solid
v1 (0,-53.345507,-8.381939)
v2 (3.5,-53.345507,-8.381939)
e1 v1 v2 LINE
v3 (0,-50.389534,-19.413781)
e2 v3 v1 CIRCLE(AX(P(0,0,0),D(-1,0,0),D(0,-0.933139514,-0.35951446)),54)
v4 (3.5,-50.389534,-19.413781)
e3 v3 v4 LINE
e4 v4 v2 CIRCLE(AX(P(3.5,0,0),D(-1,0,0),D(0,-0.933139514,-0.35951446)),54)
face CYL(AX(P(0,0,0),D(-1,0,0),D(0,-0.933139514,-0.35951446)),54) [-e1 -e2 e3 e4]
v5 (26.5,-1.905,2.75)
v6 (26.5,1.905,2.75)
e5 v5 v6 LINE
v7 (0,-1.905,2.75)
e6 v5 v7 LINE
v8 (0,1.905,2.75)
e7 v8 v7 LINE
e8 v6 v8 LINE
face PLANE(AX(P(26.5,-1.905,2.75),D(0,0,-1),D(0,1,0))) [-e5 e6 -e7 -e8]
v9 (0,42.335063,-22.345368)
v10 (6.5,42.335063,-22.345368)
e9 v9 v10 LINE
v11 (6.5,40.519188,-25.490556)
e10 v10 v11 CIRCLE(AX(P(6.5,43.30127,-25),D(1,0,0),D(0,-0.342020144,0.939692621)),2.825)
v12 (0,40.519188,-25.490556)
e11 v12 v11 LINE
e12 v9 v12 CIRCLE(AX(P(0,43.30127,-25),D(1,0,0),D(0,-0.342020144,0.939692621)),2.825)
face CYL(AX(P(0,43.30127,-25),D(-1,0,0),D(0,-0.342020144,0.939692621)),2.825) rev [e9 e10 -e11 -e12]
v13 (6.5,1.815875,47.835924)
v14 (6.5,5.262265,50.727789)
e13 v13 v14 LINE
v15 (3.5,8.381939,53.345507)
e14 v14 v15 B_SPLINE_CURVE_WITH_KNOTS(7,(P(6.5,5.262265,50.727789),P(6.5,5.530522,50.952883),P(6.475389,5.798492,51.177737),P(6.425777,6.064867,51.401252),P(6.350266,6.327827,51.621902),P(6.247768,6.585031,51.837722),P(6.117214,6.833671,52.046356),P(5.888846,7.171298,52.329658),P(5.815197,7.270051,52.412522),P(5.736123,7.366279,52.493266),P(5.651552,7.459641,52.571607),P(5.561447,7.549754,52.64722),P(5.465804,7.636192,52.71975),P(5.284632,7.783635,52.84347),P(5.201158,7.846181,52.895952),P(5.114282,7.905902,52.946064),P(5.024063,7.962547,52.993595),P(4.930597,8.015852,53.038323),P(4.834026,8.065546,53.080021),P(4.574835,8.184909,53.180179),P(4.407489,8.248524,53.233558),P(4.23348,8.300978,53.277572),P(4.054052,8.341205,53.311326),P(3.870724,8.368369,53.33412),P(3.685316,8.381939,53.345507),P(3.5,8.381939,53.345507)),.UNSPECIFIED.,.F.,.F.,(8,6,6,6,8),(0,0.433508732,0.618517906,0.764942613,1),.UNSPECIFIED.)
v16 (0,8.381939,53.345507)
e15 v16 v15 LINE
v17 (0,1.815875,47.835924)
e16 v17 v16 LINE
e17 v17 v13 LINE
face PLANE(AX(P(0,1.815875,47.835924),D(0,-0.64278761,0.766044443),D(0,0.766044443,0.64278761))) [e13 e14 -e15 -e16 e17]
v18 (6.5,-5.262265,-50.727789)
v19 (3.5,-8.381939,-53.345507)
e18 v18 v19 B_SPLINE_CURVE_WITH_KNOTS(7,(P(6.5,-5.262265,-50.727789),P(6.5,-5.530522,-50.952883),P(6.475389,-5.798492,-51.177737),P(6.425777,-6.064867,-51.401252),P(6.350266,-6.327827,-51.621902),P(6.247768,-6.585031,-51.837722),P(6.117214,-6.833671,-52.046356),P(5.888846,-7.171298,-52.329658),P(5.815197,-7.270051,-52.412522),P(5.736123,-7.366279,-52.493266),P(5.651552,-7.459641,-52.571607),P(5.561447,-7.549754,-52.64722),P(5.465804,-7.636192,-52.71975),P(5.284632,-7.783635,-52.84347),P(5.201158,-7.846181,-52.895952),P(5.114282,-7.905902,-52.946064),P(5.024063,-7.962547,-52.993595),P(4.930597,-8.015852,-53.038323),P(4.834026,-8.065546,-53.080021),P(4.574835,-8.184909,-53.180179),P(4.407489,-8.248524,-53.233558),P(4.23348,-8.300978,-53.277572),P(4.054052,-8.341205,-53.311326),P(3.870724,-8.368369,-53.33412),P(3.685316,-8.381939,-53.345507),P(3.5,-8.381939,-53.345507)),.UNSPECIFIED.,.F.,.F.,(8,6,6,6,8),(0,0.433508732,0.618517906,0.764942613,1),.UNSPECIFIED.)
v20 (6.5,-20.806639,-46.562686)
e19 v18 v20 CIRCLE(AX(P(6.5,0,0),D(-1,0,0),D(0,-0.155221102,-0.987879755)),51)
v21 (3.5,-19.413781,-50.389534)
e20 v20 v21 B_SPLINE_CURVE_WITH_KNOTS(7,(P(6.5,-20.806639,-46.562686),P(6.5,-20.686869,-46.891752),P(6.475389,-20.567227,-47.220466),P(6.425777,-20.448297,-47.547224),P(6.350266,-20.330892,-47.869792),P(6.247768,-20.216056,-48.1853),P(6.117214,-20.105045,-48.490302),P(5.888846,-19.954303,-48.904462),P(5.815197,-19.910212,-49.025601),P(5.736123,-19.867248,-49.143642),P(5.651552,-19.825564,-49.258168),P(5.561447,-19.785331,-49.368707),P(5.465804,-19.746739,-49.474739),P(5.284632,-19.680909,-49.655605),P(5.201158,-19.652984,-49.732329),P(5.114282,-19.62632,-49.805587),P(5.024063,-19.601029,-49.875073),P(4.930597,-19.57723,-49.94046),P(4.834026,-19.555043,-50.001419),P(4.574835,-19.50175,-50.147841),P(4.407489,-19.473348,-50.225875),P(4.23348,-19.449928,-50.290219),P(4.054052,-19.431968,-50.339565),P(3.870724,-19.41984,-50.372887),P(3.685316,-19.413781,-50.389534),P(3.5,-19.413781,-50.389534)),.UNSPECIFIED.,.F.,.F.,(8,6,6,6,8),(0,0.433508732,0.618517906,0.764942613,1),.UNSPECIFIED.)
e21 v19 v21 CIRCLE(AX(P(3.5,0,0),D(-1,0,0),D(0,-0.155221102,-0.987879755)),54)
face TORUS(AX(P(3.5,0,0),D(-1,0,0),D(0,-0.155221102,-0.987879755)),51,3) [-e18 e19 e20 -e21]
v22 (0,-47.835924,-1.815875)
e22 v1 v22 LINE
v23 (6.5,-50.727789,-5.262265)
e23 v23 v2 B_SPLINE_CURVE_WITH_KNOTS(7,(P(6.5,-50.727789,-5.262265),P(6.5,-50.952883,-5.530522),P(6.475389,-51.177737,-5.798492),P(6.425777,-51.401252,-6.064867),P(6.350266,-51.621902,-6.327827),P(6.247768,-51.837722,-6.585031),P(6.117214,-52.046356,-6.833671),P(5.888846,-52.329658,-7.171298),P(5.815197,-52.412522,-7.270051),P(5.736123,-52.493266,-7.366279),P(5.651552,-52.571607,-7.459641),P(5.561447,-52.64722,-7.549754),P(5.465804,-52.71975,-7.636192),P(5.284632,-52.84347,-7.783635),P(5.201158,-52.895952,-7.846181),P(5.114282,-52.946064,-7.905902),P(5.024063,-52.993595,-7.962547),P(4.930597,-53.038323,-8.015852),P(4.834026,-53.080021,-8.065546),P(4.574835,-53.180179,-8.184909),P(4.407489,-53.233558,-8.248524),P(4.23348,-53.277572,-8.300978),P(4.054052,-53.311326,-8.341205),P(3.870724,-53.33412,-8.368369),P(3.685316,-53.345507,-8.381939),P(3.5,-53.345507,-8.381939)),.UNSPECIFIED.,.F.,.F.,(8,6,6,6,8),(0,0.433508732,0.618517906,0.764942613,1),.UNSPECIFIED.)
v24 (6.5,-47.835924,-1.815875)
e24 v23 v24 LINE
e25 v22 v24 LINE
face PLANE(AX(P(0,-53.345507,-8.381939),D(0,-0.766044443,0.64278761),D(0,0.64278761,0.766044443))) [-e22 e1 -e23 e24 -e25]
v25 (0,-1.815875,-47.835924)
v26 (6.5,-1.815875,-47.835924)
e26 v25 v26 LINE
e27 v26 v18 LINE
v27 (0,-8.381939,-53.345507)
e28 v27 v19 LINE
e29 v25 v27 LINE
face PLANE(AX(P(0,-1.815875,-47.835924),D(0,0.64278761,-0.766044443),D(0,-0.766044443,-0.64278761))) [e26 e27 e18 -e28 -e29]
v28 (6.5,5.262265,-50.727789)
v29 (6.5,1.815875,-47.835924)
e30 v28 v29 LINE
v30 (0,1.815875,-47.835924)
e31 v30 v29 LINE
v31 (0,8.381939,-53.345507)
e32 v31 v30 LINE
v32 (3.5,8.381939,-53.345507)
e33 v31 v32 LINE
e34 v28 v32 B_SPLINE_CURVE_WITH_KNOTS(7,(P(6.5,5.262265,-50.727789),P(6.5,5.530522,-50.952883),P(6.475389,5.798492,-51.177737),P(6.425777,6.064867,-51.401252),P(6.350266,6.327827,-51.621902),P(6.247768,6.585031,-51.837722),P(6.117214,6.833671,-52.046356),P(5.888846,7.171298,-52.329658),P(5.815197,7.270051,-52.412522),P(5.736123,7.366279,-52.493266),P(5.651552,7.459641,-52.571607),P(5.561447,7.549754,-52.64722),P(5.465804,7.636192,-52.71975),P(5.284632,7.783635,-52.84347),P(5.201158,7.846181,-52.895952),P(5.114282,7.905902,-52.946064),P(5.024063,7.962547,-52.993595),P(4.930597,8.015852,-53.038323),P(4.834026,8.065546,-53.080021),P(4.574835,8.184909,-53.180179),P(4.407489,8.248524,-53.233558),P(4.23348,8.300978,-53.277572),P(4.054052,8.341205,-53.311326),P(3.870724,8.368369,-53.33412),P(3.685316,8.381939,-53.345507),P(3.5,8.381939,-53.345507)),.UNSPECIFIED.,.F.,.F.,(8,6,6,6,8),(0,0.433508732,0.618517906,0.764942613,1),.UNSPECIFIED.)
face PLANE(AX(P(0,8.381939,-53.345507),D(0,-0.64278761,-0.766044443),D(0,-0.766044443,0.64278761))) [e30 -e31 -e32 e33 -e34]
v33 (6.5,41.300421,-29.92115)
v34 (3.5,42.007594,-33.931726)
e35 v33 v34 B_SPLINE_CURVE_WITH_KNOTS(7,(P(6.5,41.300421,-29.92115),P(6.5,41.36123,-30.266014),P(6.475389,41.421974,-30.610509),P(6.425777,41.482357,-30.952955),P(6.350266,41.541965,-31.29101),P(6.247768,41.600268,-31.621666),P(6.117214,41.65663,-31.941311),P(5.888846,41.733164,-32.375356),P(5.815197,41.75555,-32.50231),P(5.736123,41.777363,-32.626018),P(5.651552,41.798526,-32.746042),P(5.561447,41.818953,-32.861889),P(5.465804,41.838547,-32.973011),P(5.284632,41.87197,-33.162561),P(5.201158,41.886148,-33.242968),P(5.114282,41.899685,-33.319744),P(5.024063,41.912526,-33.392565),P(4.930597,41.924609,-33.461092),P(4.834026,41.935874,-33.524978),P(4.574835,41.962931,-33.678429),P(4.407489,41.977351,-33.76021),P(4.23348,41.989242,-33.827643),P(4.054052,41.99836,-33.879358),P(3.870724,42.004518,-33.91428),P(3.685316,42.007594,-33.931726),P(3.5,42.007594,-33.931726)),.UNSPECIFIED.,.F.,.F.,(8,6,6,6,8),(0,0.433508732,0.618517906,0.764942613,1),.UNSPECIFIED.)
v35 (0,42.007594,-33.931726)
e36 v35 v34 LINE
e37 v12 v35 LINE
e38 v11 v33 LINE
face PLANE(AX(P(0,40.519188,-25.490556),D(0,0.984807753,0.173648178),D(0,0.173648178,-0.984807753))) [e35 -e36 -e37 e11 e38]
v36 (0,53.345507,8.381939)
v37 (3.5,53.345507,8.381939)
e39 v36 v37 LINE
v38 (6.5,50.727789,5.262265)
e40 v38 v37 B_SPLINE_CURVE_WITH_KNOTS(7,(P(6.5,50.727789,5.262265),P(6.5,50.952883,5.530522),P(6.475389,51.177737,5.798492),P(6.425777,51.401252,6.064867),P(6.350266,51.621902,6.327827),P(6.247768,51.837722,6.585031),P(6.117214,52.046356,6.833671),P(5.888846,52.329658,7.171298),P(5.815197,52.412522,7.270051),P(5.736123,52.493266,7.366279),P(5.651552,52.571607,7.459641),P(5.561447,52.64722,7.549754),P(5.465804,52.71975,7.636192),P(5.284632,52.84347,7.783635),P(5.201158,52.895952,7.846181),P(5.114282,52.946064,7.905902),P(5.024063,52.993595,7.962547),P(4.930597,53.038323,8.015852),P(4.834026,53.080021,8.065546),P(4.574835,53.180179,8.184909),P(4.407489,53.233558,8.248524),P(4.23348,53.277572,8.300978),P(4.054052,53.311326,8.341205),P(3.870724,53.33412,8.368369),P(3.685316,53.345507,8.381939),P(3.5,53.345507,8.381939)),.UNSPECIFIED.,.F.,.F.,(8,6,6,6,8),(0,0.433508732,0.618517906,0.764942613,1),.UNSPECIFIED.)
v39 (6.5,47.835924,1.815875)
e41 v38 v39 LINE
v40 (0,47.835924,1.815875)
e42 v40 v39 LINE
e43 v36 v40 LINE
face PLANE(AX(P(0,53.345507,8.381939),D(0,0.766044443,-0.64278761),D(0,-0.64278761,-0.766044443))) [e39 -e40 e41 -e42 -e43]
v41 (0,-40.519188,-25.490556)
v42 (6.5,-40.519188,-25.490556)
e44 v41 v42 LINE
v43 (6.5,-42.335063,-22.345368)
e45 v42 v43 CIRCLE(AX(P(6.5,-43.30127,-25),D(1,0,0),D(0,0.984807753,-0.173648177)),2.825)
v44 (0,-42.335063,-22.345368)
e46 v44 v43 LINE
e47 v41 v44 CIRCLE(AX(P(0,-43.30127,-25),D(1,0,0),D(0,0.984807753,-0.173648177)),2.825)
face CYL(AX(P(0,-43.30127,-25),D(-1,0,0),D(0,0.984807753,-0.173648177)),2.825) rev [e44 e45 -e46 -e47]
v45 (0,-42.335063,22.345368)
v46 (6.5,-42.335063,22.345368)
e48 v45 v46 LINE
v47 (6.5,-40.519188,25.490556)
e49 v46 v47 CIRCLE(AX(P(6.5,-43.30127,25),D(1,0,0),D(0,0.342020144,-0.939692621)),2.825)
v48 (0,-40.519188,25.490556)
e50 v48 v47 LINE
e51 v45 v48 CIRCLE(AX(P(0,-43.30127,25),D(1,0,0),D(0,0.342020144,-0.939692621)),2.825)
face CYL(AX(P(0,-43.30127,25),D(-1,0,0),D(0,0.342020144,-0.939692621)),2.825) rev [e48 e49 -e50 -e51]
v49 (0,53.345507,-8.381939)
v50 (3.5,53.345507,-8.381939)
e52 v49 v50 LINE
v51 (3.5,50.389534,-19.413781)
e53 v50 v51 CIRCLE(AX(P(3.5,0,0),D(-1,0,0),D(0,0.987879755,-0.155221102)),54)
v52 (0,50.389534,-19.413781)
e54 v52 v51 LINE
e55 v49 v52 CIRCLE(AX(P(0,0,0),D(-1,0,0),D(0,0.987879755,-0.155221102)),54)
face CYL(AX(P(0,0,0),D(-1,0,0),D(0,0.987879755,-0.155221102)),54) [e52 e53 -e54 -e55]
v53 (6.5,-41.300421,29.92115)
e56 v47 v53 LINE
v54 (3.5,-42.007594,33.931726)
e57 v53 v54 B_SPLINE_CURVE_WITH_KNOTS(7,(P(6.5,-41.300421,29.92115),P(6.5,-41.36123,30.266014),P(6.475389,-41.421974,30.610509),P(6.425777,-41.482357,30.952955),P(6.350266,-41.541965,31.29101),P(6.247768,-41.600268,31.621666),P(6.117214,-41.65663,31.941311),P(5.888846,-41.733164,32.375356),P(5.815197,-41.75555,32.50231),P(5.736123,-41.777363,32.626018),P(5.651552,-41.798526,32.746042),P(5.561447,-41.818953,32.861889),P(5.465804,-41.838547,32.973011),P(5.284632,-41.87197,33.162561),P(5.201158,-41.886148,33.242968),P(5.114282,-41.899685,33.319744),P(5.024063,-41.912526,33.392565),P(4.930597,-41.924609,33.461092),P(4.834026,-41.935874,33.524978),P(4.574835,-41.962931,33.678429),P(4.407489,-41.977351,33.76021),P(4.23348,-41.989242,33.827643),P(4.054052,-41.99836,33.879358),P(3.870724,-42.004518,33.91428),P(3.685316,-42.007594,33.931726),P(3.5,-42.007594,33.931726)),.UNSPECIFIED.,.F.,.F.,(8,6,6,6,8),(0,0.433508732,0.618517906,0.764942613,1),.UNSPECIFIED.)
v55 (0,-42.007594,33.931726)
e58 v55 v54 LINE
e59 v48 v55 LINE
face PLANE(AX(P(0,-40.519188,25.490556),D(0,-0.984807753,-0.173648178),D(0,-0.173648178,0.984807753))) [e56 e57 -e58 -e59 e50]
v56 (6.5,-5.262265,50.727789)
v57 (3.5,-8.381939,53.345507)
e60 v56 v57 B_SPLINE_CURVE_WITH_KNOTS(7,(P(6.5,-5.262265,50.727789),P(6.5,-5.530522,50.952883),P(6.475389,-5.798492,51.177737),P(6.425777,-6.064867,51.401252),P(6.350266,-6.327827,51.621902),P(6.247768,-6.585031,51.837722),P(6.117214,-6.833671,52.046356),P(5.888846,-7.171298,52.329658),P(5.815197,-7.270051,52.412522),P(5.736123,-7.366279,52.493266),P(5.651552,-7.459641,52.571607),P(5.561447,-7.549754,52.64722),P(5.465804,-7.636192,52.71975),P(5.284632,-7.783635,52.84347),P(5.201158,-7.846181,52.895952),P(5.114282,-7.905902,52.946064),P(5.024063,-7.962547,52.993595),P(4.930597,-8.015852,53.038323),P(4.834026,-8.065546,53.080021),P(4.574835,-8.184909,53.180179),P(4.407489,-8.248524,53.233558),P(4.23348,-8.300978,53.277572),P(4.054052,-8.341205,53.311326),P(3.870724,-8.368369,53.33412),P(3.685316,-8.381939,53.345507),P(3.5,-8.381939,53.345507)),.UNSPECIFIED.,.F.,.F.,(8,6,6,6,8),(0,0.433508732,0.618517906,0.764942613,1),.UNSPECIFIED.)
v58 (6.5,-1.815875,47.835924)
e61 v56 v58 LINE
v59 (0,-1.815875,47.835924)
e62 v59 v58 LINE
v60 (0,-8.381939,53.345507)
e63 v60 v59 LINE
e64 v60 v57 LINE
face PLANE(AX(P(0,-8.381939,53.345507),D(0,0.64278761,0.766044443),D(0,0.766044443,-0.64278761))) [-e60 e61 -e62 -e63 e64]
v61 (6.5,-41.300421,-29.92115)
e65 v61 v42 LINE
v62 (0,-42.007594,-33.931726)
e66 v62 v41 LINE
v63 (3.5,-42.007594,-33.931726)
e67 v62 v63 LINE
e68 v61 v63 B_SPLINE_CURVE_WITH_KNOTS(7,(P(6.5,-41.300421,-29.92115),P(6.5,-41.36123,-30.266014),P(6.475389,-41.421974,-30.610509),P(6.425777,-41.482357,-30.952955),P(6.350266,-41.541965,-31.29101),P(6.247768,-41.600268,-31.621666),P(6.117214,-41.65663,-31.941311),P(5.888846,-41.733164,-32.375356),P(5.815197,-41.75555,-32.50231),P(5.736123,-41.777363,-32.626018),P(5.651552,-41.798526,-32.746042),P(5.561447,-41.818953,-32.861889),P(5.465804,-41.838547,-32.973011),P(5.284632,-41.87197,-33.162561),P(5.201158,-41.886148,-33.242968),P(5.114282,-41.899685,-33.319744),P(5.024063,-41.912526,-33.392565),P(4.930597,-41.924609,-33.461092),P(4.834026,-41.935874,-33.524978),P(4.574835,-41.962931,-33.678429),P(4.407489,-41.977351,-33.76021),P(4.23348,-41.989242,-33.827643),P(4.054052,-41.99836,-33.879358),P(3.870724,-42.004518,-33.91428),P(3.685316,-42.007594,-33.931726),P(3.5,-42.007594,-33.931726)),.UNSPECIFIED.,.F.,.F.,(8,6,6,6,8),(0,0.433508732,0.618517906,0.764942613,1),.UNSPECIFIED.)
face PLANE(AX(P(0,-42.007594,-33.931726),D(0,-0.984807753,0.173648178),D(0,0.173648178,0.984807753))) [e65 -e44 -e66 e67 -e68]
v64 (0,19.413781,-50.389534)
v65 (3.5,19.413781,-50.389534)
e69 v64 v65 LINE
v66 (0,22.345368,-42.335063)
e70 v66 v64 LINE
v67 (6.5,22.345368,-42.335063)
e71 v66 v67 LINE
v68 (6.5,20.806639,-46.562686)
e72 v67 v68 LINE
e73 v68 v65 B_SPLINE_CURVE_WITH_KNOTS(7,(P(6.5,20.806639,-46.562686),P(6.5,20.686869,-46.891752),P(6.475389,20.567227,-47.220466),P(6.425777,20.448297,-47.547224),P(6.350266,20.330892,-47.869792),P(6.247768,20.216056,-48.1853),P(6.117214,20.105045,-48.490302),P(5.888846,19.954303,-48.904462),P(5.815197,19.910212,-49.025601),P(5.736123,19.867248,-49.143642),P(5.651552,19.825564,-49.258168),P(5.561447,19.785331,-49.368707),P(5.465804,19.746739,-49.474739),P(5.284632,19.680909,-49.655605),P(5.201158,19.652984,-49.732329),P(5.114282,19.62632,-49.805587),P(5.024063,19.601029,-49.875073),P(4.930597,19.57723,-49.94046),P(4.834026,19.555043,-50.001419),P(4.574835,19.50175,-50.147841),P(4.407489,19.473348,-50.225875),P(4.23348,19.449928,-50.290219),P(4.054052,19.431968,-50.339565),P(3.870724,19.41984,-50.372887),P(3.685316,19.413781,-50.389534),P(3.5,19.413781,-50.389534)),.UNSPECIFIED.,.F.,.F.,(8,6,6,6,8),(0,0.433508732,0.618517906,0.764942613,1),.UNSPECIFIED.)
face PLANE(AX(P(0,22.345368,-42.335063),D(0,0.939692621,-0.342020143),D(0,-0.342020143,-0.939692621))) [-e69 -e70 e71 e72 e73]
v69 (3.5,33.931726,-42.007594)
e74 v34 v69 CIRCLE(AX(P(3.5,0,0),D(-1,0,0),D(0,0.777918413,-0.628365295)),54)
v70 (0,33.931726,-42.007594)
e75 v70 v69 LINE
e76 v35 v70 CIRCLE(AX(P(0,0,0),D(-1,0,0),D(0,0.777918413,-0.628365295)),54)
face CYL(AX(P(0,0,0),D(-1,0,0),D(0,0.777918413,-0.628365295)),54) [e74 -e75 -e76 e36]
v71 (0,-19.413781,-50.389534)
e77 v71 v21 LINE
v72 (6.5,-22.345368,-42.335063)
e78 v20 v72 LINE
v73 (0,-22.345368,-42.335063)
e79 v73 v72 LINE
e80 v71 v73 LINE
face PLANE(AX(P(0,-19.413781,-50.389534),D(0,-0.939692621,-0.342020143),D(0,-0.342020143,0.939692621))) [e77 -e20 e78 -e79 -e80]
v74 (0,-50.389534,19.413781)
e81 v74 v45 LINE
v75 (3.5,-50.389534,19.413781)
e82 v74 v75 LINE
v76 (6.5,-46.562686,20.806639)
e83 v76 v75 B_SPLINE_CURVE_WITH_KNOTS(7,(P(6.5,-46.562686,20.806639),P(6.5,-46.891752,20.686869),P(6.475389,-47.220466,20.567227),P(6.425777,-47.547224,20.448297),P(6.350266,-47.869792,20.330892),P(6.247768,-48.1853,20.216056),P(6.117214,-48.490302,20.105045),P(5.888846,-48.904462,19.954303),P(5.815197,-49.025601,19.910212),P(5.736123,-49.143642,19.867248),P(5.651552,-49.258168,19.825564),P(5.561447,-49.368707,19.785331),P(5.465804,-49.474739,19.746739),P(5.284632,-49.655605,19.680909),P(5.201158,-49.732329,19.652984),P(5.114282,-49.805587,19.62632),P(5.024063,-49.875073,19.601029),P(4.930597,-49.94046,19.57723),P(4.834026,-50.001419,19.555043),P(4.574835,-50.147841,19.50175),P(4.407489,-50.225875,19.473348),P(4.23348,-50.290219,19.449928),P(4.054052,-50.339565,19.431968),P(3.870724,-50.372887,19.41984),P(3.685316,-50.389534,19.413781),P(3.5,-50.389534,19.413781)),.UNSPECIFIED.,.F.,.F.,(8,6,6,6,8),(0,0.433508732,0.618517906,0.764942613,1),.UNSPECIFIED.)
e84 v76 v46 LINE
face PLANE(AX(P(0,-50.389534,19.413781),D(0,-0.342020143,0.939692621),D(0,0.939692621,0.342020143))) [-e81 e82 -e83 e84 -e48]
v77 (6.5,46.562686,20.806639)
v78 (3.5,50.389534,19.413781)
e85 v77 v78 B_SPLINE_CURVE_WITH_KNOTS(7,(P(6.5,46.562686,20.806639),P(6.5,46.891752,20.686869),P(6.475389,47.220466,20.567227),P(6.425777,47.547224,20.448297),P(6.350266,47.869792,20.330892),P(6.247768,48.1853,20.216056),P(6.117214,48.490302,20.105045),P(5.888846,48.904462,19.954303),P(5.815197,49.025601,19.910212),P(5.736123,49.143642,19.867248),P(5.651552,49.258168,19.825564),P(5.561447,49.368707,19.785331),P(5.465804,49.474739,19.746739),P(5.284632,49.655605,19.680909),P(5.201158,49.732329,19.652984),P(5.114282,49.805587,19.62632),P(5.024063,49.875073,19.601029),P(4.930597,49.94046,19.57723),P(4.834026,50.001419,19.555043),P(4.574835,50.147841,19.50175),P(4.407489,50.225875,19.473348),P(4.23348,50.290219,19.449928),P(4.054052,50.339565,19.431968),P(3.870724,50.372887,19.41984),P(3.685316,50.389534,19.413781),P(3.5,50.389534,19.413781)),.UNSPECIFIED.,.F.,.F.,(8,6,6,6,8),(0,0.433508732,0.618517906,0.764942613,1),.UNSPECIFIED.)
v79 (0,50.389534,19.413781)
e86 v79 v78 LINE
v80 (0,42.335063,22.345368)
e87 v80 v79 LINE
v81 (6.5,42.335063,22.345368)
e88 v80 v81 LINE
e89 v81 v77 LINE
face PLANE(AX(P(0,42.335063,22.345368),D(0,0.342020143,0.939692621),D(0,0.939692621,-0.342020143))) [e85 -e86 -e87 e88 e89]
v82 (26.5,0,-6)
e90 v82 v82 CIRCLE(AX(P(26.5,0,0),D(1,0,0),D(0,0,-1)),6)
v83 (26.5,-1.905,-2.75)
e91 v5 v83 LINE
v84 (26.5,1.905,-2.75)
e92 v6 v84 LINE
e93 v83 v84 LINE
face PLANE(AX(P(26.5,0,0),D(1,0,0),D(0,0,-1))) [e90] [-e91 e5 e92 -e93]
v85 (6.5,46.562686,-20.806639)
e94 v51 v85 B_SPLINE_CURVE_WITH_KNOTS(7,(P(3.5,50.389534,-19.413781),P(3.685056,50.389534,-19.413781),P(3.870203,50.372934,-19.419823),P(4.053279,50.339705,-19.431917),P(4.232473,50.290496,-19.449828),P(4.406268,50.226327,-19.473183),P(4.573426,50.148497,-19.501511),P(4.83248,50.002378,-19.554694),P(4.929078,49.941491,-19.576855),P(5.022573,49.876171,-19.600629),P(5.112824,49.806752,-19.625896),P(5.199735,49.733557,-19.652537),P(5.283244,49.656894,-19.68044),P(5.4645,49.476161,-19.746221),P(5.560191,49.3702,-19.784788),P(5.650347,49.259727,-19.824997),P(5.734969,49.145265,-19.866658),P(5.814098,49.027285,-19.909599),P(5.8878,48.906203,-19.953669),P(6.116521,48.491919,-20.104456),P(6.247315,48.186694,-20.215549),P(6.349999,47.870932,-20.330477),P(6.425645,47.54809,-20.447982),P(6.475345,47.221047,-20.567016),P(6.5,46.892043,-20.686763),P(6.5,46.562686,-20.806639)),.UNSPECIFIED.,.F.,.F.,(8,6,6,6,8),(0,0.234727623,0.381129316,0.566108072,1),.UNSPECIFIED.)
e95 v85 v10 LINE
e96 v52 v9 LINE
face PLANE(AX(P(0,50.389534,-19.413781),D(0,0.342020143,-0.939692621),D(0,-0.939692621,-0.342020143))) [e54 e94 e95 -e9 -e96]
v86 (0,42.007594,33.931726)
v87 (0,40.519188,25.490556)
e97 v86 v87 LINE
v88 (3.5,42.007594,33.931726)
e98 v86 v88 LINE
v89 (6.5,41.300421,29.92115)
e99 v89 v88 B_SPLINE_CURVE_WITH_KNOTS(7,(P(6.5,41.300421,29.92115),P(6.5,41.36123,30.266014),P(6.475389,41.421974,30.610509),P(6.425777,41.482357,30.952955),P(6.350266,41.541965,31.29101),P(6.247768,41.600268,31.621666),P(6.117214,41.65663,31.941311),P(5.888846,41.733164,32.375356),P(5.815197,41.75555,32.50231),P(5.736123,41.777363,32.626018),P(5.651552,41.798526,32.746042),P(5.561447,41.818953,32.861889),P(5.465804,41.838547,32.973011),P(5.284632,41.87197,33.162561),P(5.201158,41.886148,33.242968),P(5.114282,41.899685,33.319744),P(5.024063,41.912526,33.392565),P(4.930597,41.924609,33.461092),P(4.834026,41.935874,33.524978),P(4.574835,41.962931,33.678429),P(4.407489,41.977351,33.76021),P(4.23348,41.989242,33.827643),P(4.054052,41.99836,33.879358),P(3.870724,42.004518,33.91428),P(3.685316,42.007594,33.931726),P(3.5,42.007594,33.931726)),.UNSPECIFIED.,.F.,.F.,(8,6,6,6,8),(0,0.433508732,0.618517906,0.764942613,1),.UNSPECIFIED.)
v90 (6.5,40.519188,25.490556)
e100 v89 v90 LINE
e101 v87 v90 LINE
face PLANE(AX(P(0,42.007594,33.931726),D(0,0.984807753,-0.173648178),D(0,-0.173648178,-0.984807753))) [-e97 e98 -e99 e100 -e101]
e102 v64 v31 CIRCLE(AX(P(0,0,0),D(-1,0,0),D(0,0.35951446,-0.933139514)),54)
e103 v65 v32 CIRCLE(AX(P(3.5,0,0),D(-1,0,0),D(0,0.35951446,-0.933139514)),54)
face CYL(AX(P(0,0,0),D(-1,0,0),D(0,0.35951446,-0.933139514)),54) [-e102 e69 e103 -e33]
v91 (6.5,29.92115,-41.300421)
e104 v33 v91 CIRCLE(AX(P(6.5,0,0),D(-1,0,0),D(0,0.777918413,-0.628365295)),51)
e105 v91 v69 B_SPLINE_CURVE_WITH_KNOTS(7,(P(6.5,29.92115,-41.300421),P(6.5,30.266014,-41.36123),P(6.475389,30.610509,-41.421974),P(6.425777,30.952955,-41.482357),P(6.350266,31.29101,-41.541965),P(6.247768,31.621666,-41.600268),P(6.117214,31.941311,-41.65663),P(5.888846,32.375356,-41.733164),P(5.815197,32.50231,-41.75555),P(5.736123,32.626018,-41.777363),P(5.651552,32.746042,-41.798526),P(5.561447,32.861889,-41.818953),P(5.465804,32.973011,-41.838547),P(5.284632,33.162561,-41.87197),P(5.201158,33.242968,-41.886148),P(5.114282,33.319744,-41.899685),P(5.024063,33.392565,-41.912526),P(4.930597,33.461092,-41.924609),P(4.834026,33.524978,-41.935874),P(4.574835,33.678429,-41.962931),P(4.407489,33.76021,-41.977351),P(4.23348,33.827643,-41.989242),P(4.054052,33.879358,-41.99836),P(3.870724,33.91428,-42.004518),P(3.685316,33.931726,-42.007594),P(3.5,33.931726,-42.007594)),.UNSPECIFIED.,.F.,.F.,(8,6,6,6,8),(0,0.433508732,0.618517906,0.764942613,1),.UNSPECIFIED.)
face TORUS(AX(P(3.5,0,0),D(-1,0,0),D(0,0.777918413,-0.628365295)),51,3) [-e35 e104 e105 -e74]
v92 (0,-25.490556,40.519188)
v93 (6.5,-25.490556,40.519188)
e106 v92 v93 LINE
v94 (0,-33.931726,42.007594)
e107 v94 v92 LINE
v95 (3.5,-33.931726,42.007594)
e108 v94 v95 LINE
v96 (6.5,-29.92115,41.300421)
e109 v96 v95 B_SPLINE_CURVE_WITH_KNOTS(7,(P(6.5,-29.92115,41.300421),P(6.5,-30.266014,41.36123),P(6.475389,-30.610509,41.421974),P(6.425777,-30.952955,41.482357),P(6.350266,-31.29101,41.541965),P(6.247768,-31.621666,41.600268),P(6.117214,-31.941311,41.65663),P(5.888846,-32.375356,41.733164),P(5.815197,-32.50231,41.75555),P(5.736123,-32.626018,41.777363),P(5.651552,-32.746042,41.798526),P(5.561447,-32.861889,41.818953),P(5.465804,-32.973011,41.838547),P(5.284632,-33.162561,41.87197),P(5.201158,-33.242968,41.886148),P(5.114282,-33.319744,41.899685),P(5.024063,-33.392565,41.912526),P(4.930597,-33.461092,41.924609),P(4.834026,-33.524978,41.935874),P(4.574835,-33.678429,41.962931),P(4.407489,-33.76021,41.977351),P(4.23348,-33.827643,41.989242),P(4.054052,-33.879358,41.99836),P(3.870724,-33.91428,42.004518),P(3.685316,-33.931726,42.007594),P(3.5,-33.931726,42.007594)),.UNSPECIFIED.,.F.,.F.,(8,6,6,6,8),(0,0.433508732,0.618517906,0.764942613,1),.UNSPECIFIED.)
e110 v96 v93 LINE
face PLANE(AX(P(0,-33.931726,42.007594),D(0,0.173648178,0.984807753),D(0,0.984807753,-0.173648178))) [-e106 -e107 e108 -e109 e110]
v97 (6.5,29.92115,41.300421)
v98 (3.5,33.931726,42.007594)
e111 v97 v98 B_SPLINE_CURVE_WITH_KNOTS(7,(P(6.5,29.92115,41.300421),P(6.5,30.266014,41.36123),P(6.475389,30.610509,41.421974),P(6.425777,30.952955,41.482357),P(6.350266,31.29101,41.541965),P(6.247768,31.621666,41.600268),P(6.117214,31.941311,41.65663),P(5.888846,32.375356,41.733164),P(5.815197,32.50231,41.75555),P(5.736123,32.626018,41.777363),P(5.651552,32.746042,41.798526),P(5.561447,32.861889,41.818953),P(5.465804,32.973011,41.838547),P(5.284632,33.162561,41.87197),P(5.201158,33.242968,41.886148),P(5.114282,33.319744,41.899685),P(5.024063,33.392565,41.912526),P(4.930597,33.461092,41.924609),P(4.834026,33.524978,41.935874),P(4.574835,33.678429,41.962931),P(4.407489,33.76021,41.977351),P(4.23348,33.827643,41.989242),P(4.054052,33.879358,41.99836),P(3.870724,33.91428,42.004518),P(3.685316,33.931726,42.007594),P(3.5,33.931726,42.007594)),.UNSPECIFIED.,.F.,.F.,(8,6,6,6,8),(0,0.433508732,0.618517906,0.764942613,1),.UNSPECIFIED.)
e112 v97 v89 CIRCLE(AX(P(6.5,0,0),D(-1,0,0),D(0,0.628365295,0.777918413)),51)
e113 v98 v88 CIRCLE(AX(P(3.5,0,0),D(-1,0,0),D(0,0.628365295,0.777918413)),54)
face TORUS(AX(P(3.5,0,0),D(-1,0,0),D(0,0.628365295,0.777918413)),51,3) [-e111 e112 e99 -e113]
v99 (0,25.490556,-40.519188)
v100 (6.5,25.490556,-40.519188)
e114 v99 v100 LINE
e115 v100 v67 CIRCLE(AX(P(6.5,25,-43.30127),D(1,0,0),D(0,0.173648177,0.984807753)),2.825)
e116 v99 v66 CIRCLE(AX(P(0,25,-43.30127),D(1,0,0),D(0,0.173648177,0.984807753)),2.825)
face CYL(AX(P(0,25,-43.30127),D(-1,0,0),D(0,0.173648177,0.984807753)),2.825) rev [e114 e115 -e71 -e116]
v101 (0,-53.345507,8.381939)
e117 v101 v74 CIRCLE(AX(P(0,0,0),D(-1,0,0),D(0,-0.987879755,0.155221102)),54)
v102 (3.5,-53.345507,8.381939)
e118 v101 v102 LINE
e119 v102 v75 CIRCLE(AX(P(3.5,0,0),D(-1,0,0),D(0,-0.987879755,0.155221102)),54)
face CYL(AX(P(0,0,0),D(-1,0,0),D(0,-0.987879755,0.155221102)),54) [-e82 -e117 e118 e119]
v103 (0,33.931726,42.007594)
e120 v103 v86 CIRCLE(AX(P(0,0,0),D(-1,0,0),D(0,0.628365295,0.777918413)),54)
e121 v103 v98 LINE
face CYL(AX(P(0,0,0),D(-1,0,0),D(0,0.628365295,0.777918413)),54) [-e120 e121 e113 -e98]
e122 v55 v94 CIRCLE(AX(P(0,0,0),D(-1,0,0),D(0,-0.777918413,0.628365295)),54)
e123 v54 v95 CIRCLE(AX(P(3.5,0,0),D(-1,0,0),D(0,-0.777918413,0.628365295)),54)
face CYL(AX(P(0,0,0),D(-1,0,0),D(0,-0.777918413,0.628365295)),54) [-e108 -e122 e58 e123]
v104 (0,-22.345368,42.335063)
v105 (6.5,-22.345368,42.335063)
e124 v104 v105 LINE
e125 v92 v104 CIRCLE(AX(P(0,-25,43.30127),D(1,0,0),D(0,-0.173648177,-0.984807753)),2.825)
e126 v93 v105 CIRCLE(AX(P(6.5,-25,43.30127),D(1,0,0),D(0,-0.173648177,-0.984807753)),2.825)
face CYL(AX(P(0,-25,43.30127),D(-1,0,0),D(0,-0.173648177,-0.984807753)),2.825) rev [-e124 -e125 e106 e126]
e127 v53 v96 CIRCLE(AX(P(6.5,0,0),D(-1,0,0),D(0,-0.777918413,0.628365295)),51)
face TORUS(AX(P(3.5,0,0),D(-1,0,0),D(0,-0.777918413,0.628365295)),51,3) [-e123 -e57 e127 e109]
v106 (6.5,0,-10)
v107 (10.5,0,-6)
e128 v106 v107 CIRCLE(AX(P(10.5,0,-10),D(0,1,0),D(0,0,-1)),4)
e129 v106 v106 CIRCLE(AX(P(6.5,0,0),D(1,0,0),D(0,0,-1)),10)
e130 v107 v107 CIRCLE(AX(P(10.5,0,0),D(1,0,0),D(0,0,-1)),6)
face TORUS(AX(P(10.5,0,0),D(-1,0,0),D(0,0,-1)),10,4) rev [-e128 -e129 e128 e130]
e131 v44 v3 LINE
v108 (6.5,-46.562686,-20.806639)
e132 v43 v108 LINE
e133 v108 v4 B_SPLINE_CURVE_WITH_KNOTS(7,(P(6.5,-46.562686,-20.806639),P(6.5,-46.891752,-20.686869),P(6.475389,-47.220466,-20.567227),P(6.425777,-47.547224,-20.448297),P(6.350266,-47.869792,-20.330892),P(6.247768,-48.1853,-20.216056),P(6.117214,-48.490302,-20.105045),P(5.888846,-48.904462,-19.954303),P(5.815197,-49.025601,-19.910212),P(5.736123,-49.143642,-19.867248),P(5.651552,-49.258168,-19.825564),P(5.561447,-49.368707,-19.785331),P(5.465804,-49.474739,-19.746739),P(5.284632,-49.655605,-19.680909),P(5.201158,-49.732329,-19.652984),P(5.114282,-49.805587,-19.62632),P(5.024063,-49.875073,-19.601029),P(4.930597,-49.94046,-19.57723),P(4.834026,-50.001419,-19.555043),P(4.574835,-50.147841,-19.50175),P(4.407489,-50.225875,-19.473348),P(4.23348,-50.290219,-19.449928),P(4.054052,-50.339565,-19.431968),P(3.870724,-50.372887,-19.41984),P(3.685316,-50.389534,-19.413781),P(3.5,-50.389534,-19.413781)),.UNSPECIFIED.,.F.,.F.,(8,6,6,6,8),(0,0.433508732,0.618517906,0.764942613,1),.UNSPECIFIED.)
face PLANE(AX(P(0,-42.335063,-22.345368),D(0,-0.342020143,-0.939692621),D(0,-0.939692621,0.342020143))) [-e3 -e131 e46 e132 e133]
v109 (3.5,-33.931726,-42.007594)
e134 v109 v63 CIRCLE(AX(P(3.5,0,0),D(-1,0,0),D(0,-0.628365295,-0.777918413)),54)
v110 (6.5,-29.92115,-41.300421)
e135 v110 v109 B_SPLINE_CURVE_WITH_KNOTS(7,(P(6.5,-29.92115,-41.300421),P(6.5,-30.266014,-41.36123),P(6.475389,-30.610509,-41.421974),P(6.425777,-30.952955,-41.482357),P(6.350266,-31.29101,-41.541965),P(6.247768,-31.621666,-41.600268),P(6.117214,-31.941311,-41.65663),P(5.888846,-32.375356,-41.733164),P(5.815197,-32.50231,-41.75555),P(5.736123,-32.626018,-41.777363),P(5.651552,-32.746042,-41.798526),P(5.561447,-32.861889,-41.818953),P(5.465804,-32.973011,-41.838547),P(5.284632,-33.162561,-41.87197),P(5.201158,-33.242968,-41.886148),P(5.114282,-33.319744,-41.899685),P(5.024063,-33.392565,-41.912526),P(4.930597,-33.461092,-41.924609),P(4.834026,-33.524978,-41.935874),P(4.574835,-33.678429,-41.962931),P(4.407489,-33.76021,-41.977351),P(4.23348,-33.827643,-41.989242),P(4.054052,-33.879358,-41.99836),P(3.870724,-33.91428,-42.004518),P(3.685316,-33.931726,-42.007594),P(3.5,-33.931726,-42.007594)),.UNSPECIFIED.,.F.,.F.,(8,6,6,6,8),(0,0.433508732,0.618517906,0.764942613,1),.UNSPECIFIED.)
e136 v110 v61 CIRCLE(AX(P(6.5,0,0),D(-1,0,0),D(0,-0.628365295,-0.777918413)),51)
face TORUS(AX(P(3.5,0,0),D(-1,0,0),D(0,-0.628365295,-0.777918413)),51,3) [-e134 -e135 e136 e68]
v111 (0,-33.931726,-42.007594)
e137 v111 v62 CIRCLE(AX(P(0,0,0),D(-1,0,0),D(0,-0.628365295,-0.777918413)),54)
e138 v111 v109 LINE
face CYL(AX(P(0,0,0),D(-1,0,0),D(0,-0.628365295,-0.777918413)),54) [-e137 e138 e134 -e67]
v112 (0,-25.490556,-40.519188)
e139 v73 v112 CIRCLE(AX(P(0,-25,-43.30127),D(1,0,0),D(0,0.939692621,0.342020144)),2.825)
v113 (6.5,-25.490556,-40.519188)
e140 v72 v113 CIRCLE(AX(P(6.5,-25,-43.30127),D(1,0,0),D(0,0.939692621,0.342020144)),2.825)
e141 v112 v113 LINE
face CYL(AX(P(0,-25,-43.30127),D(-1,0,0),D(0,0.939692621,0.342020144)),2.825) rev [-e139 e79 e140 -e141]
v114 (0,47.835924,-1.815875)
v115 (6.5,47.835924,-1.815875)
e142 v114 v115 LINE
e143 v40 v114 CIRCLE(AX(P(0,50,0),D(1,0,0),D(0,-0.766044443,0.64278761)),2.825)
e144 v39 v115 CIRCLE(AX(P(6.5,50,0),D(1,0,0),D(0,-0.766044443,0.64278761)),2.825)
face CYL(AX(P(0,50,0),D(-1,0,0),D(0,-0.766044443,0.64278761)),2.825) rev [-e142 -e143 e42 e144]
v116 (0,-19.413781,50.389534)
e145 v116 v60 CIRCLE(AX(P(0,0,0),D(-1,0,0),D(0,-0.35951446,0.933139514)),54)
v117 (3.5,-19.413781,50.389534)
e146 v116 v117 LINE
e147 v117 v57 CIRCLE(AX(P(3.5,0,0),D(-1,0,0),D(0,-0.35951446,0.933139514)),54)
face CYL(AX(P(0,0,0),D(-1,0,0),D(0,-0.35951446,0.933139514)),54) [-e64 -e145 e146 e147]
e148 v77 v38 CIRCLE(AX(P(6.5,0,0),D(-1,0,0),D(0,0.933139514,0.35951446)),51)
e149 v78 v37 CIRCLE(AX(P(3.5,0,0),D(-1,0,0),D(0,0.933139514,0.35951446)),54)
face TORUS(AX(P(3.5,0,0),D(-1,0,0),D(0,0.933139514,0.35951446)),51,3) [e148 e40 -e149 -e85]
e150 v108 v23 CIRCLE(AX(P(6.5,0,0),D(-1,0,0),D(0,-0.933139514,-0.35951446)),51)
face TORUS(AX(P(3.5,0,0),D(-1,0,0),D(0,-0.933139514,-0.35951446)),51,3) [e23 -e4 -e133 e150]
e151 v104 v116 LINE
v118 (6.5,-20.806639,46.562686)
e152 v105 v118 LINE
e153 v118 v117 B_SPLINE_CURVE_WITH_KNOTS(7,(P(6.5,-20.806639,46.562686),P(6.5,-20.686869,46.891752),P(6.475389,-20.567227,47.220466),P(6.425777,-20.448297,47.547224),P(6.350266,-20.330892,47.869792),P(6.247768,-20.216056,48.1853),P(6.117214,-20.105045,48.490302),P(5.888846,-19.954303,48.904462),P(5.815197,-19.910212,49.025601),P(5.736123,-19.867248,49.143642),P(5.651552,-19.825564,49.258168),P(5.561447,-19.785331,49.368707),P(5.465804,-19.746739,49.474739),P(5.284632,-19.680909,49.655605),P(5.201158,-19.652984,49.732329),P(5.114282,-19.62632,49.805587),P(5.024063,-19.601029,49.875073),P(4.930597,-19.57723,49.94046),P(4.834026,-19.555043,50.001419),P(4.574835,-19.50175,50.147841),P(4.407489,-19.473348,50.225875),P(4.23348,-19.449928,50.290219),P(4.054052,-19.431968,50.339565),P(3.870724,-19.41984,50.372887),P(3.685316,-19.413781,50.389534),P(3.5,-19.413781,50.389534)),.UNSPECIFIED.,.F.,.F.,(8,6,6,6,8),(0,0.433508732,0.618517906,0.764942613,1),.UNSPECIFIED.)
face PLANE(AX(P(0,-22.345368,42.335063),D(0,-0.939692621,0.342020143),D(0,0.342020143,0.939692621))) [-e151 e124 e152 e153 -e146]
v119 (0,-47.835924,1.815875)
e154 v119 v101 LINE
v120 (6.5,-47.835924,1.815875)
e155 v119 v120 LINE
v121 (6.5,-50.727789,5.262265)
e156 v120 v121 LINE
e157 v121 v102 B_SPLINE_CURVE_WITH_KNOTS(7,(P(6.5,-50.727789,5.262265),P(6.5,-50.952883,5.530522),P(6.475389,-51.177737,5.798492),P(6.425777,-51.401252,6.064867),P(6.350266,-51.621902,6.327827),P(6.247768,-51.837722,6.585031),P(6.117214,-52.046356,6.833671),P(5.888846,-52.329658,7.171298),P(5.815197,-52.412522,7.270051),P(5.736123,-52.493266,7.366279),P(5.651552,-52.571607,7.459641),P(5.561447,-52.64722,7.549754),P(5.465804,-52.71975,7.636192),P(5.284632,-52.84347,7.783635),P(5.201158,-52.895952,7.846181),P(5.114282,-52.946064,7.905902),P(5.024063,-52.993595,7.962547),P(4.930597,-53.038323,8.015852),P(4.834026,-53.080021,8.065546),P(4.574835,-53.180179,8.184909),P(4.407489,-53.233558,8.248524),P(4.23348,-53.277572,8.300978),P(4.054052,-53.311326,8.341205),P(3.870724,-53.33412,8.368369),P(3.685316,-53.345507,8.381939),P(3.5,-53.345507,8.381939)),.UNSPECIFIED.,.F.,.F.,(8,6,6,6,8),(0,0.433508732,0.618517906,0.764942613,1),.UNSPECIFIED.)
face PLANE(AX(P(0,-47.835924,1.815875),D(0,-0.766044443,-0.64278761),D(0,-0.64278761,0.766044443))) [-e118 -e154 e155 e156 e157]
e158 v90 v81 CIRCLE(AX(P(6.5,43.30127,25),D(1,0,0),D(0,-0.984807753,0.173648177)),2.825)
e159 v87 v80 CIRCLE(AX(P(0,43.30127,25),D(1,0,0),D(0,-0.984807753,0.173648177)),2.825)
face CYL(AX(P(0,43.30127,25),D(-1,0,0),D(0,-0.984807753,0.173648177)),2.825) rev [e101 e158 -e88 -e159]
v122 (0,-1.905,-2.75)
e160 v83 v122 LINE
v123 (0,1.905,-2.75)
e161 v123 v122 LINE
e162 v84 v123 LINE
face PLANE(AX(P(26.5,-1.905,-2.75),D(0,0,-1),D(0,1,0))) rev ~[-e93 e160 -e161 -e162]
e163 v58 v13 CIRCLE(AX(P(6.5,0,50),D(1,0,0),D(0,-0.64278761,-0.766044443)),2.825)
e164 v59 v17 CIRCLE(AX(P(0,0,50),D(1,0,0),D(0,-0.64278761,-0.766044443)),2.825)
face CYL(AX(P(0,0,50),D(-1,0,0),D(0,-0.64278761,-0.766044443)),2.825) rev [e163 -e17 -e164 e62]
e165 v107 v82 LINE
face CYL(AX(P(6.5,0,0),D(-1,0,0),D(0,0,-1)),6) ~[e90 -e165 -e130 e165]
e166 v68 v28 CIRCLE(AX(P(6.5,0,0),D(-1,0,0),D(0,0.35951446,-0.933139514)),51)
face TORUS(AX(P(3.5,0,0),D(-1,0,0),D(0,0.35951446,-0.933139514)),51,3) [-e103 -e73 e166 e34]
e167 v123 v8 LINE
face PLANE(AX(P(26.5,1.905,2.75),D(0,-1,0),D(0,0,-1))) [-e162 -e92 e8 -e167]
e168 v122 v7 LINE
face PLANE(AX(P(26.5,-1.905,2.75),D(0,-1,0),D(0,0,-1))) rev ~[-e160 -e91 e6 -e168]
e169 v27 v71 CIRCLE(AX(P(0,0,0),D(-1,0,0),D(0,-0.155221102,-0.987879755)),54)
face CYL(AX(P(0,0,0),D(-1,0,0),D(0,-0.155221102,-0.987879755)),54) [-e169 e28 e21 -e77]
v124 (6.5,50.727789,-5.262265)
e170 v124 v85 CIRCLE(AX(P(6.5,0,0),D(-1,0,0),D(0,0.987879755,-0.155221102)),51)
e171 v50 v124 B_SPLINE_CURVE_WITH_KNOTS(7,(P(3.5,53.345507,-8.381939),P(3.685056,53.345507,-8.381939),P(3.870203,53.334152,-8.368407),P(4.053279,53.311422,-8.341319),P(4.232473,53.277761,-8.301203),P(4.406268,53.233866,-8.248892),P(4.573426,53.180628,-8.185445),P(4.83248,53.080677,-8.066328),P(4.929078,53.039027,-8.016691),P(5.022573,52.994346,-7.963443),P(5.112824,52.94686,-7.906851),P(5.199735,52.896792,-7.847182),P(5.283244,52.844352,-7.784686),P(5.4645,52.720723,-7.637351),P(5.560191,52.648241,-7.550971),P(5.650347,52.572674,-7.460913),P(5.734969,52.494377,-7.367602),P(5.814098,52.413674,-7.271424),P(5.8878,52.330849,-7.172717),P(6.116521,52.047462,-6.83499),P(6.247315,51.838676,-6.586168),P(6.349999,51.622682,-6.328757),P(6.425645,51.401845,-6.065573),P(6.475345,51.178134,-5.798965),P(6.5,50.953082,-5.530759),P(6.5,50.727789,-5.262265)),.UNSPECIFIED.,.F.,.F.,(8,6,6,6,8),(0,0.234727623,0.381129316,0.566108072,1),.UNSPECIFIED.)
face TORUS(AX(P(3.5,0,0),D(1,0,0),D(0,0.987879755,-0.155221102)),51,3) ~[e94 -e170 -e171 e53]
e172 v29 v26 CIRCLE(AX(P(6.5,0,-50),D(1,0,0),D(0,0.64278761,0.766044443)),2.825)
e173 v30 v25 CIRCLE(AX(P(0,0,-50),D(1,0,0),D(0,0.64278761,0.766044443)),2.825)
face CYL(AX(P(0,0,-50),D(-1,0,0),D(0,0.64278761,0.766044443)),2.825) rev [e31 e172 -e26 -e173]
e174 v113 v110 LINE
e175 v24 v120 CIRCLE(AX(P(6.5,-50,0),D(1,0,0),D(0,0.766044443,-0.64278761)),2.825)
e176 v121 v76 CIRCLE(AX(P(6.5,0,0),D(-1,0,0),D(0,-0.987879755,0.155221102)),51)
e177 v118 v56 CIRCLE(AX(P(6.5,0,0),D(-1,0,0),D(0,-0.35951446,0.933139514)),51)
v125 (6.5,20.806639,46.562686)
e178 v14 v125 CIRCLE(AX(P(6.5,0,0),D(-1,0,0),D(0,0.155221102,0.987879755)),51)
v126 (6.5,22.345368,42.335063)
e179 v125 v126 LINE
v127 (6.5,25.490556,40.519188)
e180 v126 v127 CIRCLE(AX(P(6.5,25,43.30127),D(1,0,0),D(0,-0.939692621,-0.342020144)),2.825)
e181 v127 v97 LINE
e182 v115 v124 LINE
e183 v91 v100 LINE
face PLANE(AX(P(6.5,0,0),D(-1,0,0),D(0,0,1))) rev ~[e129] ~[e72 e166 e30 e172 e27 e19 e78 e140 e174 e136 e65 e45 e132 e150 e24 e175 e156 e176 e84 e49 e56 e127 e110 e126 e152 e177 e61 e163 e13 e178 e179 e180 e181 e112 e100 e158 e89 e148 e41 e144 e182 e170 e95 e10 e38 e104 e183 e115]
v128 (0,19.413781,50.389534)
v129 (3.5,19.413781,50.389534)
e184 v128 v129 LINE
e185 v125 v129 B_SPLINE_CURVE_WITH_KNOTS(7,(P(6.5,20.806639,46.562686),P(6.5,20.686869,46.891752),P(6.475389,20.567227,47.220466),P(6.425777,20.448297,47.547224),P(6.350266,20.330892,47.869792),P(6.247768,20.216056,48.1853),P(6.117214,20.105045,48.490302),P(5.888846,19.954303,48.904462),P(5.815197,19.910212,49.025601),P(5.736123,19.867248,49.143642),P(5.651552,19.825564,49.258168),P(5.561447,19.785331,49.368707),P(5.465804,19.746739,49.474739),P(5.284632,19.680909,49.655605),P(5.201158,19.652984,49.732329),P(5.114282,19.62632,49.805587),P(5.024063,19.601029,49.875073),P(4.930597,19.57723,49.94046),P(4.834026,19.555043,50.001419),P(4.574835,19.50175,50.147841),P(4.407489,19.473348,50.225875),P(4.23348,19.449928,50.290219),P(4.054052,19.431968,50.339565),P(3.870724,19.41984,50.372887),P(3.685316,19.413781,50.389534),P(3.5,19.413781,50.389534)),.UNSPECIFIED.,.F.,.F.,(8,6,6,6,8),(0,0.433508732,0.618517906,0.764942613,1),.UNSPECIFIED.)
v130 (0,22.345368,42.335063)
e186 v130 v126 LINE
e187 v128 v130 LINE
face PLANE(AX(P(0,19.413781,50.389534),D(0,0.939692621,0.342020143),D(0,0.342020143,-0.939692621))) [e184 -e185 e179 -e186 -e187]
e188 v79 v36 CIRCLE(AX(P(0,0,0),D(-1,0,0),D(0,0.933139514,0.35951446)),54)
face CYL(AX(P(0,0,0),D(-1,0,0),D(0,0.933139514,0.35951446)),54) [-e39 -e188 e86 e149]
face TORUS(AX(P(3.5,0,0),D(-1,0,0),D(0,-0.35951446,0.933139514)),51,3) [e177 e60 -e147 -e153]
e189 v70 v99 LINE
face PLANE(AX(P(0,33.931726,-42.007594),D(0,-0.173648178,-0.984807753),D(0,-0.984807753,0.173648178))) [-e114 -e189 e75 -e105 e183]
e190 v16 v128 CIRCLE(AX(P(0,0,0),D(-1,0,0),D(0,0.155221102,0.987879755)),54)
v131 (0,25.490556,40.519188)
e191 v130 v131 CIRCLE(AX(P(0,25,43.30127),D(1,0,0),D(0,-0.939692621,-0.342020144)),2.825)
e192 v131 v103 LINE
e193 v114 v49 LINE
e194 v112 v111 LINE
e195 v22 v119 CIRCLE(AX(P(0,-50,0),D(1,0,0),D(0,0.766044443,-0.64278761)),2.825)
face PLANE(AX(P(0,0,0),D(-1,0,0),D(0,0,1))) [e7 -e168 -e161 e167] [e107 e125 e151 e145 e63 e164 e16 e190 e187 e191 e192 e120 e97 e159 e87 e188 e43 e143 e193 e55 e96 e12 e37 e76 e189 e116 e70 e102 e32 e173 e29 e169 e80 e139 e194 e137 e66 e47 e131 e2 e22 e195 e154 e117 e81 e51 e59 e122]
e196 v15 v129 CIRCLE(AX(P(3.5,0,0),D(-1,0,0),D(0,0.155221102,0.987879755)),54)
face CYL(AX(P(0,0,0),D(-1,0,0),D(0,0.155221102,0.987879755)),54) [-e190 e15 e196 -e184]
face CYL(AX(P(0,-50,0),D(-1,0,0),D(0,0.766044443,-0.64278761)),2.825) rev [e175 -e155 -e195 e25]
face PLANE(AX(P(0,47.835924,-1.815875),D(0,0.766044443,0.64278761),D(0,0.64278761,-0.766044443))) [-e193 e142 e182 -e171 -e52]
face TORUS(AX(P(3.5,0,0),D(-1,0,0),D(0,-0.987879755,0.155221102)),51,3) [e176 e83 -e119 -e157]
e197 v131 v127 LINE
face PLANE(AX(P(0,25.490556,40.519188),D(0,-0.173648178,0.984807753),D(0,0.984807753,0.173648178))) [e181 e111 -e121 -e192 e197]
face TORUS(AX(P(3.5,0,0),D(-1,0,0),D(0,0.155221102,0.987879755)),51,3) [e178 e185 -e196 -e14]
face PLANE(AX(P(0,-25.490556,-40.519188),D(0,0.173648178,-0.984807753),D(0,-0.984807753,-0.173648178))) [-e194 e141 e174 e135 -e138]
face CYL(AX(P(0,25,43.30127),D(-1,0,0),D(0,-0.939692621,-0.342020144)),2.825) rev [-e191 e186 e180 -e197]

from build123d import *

# Parameters (mm, degrees)
BOSS_EXTRUDE1_DEPTH = 6.5
SKETCH2_R           = 6
BOSS_EXTRUDE2_DEPTH = 20
FILLET1_R           = 3
SKETCH3_W           = 5.5
SKETCH3_H           = 3.81
CUT_EXTRUDE1_DEPTH  = 27.5000001
FILLET2_R           = 4


with BuildPart() as part:
    # Sketch1 → Boss-Extrude1 (new body)
    with BuildSketch(Plane(origin=(0, 0, 0), x_dir=(0, 0, -1), z_dir=(1, 0, 0))):
        with BuildLine():
            Line((1.815874997, 47.835924448), (8.381939498, 53.345506749))
            ThreePointArc((8.381939498, 53.345506749), (13.976228436, 52.15999462), (19.413780836, 50.389533771))
            Line((19.413780836, 50.389533771), (22.345368346, 42.335063284))
            ThreePointArc((22.345368346, 42.335063284), (23.5875, 40.854748424), (25.490556102, 40.519188287))
            Line((25.490556102, 40.519188287), (33.931725912, 42.007594273))
            ThreePointArc((33.931725912, 42.007594273), (38.183766184, 38.183766184), (42.007594273, 33.931725912))
            Line((42.007594273, 33.931725912), (40.519188287, 25.490556102))
            ThreePointArc((40.519188287, 25.490556102), (40.854748424, 23.5875), (42.335063284, 22.345368346))
            Line((42.335063284, 22.345368346), (50.389533771, 19.413780836))
            ThreePointArc((50.389533771, 19.413780836), (52.15999462, 13.976228436), (53.345506749, 8.381939498))
            Line((53.345506749, 8.381939498), (47.835924448, 1.815874997))
            ThreePointArc((47.835924448, 1.815874997), (47.175, 0), (47.835924448, -1.815874997))
            Line((47.835924448, -1.815874997), (53.345506749, -8.381939498))
            ThreePointArc((53.345506749, -8.381939498), (52.15999462, -13.976228436), (50.389533771, -19.413780836))
            Line((50.389533771, -19.413780836), (42.335063284, -22.345368346))
            ThreePointArc((42.335063284, -22.345368346), (40.854748424, -23.5875), (40.519188287, -25.490556102))
            Line((40.519188287, -25.490556102), (42.007594273, -33.931725912))
            ThreePointArc((42.007594273, -33.931725912), (38.183766184, -38.183766184), (33.931725912, -42.007594273))
            Line((33.931725912, -42.007594273), (25.490556102, -40.519188287))
            ThreePointArc((25.490556102, -40.519188287), (23.5875, -40.854748424), (22.345368346, -42.335063284))
            Line((22.345368346, -42.335063284), (19.413780836, -50.389533771))
            ThreePointArc((19.413780836, -50.389533771), (13.976228436, -52.15999462), (8.381939498, -53.345506749))
            Line((8.381939498, -53.345506749), (1.815874997, -47.835924448))
            ThreePointArc((1.815874997, -47.835924448), (0, -47.175), (-1.815874997, -47.835924448))
            Line((-1.815874997, -47.835924448), (-8.381939498, -53.345506749))
            ThreePointArc((-8.381939498, -53.345506749), (-13.976228436, -52.15999462), (-19.413780836, -50.389533771))
            Line((-19.413780836, -50.389533771), (-22.345368346, -42.335063284))
            ThreePointArc((-22.345368346, -42.335063284), (-23.5875, -40.854748424), (-25.490556102, -40.519188287))
            Line((-25.490556102, -40.519188287), (-33.931725912, -42.007594273))
            ThreePointArc((-33.931725912, -42.007594273), (-38.183766184, -38.183766184), (-42.007594273, -33.931725912))
            Line((-42.007594273, -33.931725912), (-40.519188287, -25.490556102))
            ThreePointArc((-40.519188287, -25.490556102), (-40.854748424, -23.5875), (-42.335063284, -22.345368346))
            Line((-42.335063284, -22.345368346), (-50.389533771, -19.413780836))
            ThreePointArc((-50.389533771, -19.413780836), (-52.15999462, -13.976228436), (-53.345506749, -8.381939498))
            Line((-53.345506749, -8.381939498), (-47.835924448, -1.815874997))
            ThreePointArc((-47.835924448, -1.815874997), (-47.175, 0), (-47.835924448, 1.815874997))
            Line((-47.835924448, 1.815874997), (-53.345506749, 8.381939498))
            ThreePointArc((-53.345506749, 8.381939498), (-52.15999462, 13.976228436), (-50.389533771, 19.413780836))
            Line((-50.389533771, 19.413780836), (-42.335063284, 22.345368346))
            ThreePointArc((-42.335063284, 22.345368346), (-40.854748424, 23.5875), (-40.519188287, 25.490556102))
            Line((-40.519188287, 25.490556102), (-42.007594273, 33.931725912))
            ThreePointArc((-42.007594273, 33.931725912), (-38.183766184, 38.183766184), (-33.931725912, 42.007594273))
            Line((-33.931725912, 42.007594273), (-25.490556102, 40.519188287))
            ThreePointArc((-25.490556102, 40.519188287), (-23.5875, 40.854748424), (-22.345368346, 42.335063284))
            Line((-22.345368346, 42.335063284), (-19.413780836, 50.389533771))
            ThreePointArc((-19.413780836, 50.389533771), (-13.976228436, 52.15999462), (-8.381939498, 53.345506749))
            Line((-8.381939498, 53.345506749), (-1.815874997, 47.835924448))
            ThreePointArc((-1.815874997, 47.835924448), (0, 47.175), (1.815874997, 47.835924448))
        make_face()
    extrude(amount=BOSS_EXTRUDE1_DEPTH)

    # Sketch2 → Boss-Extrude2 (add)
    with BuildSketch(Plane(origin=(6.5, 0, 0), x_dir=(0, 0, -1), z_dir=(1, 0, 0))):
        Circle(SKETCH2_R)
    extrude(amount=BOSS_EXTRUDE2_DEPTH)

    # Fillet1
    fillet1_edges = [part.edges().sort_by_distance(p)[0] for p in [
        (6.5, -52.15999462, 13.976228436),
        (6.5, -52.15999462, -13.976228436),
        (6.5, 52.15999462, -13.976228436),
        (6.5, -38.183766184, -38.183766184),
        (6.5, -13.976228436, -52.15999462),
        (6.5, 13.976228436, -52.15999462),
        (6.5, 38.183766184, -38.183766184),
        (6.5, 52.15999462, 13.976228436),
        (6.5, 38.183766184, 38.183766184),
        (6.5, 13.976228436, 52.15999462),
        (6.5, -13.976228436, 52.15999462),
        (6.5, -38.183766184, 38.183766184),
    ]]
    fillet(fillet1_edges, radius=FILLET1_R)

    # Sketch3 → Cut-Extrude1 (cut, through all)
    with BuildSketch(Plane(origin=(26.5, 0, 0), x_dir=(0, 0, -1), z_dir=(1, 0, 0))):
        Rectangle(SKETCH3_W, SKETCH3_H)
    extrude(amount=-CUT_EXTRUDE1_DEPTH, mode=Mode.SUBTRACT)

    # Fillet2
    fillet2_edges = [part.edges().sort_by_distance(p)[0] for p in [
        (6.5, 0, 6),
    ]]
    fillet(fillet2_edges, radius=FILLET2_R)


solid = part.part
